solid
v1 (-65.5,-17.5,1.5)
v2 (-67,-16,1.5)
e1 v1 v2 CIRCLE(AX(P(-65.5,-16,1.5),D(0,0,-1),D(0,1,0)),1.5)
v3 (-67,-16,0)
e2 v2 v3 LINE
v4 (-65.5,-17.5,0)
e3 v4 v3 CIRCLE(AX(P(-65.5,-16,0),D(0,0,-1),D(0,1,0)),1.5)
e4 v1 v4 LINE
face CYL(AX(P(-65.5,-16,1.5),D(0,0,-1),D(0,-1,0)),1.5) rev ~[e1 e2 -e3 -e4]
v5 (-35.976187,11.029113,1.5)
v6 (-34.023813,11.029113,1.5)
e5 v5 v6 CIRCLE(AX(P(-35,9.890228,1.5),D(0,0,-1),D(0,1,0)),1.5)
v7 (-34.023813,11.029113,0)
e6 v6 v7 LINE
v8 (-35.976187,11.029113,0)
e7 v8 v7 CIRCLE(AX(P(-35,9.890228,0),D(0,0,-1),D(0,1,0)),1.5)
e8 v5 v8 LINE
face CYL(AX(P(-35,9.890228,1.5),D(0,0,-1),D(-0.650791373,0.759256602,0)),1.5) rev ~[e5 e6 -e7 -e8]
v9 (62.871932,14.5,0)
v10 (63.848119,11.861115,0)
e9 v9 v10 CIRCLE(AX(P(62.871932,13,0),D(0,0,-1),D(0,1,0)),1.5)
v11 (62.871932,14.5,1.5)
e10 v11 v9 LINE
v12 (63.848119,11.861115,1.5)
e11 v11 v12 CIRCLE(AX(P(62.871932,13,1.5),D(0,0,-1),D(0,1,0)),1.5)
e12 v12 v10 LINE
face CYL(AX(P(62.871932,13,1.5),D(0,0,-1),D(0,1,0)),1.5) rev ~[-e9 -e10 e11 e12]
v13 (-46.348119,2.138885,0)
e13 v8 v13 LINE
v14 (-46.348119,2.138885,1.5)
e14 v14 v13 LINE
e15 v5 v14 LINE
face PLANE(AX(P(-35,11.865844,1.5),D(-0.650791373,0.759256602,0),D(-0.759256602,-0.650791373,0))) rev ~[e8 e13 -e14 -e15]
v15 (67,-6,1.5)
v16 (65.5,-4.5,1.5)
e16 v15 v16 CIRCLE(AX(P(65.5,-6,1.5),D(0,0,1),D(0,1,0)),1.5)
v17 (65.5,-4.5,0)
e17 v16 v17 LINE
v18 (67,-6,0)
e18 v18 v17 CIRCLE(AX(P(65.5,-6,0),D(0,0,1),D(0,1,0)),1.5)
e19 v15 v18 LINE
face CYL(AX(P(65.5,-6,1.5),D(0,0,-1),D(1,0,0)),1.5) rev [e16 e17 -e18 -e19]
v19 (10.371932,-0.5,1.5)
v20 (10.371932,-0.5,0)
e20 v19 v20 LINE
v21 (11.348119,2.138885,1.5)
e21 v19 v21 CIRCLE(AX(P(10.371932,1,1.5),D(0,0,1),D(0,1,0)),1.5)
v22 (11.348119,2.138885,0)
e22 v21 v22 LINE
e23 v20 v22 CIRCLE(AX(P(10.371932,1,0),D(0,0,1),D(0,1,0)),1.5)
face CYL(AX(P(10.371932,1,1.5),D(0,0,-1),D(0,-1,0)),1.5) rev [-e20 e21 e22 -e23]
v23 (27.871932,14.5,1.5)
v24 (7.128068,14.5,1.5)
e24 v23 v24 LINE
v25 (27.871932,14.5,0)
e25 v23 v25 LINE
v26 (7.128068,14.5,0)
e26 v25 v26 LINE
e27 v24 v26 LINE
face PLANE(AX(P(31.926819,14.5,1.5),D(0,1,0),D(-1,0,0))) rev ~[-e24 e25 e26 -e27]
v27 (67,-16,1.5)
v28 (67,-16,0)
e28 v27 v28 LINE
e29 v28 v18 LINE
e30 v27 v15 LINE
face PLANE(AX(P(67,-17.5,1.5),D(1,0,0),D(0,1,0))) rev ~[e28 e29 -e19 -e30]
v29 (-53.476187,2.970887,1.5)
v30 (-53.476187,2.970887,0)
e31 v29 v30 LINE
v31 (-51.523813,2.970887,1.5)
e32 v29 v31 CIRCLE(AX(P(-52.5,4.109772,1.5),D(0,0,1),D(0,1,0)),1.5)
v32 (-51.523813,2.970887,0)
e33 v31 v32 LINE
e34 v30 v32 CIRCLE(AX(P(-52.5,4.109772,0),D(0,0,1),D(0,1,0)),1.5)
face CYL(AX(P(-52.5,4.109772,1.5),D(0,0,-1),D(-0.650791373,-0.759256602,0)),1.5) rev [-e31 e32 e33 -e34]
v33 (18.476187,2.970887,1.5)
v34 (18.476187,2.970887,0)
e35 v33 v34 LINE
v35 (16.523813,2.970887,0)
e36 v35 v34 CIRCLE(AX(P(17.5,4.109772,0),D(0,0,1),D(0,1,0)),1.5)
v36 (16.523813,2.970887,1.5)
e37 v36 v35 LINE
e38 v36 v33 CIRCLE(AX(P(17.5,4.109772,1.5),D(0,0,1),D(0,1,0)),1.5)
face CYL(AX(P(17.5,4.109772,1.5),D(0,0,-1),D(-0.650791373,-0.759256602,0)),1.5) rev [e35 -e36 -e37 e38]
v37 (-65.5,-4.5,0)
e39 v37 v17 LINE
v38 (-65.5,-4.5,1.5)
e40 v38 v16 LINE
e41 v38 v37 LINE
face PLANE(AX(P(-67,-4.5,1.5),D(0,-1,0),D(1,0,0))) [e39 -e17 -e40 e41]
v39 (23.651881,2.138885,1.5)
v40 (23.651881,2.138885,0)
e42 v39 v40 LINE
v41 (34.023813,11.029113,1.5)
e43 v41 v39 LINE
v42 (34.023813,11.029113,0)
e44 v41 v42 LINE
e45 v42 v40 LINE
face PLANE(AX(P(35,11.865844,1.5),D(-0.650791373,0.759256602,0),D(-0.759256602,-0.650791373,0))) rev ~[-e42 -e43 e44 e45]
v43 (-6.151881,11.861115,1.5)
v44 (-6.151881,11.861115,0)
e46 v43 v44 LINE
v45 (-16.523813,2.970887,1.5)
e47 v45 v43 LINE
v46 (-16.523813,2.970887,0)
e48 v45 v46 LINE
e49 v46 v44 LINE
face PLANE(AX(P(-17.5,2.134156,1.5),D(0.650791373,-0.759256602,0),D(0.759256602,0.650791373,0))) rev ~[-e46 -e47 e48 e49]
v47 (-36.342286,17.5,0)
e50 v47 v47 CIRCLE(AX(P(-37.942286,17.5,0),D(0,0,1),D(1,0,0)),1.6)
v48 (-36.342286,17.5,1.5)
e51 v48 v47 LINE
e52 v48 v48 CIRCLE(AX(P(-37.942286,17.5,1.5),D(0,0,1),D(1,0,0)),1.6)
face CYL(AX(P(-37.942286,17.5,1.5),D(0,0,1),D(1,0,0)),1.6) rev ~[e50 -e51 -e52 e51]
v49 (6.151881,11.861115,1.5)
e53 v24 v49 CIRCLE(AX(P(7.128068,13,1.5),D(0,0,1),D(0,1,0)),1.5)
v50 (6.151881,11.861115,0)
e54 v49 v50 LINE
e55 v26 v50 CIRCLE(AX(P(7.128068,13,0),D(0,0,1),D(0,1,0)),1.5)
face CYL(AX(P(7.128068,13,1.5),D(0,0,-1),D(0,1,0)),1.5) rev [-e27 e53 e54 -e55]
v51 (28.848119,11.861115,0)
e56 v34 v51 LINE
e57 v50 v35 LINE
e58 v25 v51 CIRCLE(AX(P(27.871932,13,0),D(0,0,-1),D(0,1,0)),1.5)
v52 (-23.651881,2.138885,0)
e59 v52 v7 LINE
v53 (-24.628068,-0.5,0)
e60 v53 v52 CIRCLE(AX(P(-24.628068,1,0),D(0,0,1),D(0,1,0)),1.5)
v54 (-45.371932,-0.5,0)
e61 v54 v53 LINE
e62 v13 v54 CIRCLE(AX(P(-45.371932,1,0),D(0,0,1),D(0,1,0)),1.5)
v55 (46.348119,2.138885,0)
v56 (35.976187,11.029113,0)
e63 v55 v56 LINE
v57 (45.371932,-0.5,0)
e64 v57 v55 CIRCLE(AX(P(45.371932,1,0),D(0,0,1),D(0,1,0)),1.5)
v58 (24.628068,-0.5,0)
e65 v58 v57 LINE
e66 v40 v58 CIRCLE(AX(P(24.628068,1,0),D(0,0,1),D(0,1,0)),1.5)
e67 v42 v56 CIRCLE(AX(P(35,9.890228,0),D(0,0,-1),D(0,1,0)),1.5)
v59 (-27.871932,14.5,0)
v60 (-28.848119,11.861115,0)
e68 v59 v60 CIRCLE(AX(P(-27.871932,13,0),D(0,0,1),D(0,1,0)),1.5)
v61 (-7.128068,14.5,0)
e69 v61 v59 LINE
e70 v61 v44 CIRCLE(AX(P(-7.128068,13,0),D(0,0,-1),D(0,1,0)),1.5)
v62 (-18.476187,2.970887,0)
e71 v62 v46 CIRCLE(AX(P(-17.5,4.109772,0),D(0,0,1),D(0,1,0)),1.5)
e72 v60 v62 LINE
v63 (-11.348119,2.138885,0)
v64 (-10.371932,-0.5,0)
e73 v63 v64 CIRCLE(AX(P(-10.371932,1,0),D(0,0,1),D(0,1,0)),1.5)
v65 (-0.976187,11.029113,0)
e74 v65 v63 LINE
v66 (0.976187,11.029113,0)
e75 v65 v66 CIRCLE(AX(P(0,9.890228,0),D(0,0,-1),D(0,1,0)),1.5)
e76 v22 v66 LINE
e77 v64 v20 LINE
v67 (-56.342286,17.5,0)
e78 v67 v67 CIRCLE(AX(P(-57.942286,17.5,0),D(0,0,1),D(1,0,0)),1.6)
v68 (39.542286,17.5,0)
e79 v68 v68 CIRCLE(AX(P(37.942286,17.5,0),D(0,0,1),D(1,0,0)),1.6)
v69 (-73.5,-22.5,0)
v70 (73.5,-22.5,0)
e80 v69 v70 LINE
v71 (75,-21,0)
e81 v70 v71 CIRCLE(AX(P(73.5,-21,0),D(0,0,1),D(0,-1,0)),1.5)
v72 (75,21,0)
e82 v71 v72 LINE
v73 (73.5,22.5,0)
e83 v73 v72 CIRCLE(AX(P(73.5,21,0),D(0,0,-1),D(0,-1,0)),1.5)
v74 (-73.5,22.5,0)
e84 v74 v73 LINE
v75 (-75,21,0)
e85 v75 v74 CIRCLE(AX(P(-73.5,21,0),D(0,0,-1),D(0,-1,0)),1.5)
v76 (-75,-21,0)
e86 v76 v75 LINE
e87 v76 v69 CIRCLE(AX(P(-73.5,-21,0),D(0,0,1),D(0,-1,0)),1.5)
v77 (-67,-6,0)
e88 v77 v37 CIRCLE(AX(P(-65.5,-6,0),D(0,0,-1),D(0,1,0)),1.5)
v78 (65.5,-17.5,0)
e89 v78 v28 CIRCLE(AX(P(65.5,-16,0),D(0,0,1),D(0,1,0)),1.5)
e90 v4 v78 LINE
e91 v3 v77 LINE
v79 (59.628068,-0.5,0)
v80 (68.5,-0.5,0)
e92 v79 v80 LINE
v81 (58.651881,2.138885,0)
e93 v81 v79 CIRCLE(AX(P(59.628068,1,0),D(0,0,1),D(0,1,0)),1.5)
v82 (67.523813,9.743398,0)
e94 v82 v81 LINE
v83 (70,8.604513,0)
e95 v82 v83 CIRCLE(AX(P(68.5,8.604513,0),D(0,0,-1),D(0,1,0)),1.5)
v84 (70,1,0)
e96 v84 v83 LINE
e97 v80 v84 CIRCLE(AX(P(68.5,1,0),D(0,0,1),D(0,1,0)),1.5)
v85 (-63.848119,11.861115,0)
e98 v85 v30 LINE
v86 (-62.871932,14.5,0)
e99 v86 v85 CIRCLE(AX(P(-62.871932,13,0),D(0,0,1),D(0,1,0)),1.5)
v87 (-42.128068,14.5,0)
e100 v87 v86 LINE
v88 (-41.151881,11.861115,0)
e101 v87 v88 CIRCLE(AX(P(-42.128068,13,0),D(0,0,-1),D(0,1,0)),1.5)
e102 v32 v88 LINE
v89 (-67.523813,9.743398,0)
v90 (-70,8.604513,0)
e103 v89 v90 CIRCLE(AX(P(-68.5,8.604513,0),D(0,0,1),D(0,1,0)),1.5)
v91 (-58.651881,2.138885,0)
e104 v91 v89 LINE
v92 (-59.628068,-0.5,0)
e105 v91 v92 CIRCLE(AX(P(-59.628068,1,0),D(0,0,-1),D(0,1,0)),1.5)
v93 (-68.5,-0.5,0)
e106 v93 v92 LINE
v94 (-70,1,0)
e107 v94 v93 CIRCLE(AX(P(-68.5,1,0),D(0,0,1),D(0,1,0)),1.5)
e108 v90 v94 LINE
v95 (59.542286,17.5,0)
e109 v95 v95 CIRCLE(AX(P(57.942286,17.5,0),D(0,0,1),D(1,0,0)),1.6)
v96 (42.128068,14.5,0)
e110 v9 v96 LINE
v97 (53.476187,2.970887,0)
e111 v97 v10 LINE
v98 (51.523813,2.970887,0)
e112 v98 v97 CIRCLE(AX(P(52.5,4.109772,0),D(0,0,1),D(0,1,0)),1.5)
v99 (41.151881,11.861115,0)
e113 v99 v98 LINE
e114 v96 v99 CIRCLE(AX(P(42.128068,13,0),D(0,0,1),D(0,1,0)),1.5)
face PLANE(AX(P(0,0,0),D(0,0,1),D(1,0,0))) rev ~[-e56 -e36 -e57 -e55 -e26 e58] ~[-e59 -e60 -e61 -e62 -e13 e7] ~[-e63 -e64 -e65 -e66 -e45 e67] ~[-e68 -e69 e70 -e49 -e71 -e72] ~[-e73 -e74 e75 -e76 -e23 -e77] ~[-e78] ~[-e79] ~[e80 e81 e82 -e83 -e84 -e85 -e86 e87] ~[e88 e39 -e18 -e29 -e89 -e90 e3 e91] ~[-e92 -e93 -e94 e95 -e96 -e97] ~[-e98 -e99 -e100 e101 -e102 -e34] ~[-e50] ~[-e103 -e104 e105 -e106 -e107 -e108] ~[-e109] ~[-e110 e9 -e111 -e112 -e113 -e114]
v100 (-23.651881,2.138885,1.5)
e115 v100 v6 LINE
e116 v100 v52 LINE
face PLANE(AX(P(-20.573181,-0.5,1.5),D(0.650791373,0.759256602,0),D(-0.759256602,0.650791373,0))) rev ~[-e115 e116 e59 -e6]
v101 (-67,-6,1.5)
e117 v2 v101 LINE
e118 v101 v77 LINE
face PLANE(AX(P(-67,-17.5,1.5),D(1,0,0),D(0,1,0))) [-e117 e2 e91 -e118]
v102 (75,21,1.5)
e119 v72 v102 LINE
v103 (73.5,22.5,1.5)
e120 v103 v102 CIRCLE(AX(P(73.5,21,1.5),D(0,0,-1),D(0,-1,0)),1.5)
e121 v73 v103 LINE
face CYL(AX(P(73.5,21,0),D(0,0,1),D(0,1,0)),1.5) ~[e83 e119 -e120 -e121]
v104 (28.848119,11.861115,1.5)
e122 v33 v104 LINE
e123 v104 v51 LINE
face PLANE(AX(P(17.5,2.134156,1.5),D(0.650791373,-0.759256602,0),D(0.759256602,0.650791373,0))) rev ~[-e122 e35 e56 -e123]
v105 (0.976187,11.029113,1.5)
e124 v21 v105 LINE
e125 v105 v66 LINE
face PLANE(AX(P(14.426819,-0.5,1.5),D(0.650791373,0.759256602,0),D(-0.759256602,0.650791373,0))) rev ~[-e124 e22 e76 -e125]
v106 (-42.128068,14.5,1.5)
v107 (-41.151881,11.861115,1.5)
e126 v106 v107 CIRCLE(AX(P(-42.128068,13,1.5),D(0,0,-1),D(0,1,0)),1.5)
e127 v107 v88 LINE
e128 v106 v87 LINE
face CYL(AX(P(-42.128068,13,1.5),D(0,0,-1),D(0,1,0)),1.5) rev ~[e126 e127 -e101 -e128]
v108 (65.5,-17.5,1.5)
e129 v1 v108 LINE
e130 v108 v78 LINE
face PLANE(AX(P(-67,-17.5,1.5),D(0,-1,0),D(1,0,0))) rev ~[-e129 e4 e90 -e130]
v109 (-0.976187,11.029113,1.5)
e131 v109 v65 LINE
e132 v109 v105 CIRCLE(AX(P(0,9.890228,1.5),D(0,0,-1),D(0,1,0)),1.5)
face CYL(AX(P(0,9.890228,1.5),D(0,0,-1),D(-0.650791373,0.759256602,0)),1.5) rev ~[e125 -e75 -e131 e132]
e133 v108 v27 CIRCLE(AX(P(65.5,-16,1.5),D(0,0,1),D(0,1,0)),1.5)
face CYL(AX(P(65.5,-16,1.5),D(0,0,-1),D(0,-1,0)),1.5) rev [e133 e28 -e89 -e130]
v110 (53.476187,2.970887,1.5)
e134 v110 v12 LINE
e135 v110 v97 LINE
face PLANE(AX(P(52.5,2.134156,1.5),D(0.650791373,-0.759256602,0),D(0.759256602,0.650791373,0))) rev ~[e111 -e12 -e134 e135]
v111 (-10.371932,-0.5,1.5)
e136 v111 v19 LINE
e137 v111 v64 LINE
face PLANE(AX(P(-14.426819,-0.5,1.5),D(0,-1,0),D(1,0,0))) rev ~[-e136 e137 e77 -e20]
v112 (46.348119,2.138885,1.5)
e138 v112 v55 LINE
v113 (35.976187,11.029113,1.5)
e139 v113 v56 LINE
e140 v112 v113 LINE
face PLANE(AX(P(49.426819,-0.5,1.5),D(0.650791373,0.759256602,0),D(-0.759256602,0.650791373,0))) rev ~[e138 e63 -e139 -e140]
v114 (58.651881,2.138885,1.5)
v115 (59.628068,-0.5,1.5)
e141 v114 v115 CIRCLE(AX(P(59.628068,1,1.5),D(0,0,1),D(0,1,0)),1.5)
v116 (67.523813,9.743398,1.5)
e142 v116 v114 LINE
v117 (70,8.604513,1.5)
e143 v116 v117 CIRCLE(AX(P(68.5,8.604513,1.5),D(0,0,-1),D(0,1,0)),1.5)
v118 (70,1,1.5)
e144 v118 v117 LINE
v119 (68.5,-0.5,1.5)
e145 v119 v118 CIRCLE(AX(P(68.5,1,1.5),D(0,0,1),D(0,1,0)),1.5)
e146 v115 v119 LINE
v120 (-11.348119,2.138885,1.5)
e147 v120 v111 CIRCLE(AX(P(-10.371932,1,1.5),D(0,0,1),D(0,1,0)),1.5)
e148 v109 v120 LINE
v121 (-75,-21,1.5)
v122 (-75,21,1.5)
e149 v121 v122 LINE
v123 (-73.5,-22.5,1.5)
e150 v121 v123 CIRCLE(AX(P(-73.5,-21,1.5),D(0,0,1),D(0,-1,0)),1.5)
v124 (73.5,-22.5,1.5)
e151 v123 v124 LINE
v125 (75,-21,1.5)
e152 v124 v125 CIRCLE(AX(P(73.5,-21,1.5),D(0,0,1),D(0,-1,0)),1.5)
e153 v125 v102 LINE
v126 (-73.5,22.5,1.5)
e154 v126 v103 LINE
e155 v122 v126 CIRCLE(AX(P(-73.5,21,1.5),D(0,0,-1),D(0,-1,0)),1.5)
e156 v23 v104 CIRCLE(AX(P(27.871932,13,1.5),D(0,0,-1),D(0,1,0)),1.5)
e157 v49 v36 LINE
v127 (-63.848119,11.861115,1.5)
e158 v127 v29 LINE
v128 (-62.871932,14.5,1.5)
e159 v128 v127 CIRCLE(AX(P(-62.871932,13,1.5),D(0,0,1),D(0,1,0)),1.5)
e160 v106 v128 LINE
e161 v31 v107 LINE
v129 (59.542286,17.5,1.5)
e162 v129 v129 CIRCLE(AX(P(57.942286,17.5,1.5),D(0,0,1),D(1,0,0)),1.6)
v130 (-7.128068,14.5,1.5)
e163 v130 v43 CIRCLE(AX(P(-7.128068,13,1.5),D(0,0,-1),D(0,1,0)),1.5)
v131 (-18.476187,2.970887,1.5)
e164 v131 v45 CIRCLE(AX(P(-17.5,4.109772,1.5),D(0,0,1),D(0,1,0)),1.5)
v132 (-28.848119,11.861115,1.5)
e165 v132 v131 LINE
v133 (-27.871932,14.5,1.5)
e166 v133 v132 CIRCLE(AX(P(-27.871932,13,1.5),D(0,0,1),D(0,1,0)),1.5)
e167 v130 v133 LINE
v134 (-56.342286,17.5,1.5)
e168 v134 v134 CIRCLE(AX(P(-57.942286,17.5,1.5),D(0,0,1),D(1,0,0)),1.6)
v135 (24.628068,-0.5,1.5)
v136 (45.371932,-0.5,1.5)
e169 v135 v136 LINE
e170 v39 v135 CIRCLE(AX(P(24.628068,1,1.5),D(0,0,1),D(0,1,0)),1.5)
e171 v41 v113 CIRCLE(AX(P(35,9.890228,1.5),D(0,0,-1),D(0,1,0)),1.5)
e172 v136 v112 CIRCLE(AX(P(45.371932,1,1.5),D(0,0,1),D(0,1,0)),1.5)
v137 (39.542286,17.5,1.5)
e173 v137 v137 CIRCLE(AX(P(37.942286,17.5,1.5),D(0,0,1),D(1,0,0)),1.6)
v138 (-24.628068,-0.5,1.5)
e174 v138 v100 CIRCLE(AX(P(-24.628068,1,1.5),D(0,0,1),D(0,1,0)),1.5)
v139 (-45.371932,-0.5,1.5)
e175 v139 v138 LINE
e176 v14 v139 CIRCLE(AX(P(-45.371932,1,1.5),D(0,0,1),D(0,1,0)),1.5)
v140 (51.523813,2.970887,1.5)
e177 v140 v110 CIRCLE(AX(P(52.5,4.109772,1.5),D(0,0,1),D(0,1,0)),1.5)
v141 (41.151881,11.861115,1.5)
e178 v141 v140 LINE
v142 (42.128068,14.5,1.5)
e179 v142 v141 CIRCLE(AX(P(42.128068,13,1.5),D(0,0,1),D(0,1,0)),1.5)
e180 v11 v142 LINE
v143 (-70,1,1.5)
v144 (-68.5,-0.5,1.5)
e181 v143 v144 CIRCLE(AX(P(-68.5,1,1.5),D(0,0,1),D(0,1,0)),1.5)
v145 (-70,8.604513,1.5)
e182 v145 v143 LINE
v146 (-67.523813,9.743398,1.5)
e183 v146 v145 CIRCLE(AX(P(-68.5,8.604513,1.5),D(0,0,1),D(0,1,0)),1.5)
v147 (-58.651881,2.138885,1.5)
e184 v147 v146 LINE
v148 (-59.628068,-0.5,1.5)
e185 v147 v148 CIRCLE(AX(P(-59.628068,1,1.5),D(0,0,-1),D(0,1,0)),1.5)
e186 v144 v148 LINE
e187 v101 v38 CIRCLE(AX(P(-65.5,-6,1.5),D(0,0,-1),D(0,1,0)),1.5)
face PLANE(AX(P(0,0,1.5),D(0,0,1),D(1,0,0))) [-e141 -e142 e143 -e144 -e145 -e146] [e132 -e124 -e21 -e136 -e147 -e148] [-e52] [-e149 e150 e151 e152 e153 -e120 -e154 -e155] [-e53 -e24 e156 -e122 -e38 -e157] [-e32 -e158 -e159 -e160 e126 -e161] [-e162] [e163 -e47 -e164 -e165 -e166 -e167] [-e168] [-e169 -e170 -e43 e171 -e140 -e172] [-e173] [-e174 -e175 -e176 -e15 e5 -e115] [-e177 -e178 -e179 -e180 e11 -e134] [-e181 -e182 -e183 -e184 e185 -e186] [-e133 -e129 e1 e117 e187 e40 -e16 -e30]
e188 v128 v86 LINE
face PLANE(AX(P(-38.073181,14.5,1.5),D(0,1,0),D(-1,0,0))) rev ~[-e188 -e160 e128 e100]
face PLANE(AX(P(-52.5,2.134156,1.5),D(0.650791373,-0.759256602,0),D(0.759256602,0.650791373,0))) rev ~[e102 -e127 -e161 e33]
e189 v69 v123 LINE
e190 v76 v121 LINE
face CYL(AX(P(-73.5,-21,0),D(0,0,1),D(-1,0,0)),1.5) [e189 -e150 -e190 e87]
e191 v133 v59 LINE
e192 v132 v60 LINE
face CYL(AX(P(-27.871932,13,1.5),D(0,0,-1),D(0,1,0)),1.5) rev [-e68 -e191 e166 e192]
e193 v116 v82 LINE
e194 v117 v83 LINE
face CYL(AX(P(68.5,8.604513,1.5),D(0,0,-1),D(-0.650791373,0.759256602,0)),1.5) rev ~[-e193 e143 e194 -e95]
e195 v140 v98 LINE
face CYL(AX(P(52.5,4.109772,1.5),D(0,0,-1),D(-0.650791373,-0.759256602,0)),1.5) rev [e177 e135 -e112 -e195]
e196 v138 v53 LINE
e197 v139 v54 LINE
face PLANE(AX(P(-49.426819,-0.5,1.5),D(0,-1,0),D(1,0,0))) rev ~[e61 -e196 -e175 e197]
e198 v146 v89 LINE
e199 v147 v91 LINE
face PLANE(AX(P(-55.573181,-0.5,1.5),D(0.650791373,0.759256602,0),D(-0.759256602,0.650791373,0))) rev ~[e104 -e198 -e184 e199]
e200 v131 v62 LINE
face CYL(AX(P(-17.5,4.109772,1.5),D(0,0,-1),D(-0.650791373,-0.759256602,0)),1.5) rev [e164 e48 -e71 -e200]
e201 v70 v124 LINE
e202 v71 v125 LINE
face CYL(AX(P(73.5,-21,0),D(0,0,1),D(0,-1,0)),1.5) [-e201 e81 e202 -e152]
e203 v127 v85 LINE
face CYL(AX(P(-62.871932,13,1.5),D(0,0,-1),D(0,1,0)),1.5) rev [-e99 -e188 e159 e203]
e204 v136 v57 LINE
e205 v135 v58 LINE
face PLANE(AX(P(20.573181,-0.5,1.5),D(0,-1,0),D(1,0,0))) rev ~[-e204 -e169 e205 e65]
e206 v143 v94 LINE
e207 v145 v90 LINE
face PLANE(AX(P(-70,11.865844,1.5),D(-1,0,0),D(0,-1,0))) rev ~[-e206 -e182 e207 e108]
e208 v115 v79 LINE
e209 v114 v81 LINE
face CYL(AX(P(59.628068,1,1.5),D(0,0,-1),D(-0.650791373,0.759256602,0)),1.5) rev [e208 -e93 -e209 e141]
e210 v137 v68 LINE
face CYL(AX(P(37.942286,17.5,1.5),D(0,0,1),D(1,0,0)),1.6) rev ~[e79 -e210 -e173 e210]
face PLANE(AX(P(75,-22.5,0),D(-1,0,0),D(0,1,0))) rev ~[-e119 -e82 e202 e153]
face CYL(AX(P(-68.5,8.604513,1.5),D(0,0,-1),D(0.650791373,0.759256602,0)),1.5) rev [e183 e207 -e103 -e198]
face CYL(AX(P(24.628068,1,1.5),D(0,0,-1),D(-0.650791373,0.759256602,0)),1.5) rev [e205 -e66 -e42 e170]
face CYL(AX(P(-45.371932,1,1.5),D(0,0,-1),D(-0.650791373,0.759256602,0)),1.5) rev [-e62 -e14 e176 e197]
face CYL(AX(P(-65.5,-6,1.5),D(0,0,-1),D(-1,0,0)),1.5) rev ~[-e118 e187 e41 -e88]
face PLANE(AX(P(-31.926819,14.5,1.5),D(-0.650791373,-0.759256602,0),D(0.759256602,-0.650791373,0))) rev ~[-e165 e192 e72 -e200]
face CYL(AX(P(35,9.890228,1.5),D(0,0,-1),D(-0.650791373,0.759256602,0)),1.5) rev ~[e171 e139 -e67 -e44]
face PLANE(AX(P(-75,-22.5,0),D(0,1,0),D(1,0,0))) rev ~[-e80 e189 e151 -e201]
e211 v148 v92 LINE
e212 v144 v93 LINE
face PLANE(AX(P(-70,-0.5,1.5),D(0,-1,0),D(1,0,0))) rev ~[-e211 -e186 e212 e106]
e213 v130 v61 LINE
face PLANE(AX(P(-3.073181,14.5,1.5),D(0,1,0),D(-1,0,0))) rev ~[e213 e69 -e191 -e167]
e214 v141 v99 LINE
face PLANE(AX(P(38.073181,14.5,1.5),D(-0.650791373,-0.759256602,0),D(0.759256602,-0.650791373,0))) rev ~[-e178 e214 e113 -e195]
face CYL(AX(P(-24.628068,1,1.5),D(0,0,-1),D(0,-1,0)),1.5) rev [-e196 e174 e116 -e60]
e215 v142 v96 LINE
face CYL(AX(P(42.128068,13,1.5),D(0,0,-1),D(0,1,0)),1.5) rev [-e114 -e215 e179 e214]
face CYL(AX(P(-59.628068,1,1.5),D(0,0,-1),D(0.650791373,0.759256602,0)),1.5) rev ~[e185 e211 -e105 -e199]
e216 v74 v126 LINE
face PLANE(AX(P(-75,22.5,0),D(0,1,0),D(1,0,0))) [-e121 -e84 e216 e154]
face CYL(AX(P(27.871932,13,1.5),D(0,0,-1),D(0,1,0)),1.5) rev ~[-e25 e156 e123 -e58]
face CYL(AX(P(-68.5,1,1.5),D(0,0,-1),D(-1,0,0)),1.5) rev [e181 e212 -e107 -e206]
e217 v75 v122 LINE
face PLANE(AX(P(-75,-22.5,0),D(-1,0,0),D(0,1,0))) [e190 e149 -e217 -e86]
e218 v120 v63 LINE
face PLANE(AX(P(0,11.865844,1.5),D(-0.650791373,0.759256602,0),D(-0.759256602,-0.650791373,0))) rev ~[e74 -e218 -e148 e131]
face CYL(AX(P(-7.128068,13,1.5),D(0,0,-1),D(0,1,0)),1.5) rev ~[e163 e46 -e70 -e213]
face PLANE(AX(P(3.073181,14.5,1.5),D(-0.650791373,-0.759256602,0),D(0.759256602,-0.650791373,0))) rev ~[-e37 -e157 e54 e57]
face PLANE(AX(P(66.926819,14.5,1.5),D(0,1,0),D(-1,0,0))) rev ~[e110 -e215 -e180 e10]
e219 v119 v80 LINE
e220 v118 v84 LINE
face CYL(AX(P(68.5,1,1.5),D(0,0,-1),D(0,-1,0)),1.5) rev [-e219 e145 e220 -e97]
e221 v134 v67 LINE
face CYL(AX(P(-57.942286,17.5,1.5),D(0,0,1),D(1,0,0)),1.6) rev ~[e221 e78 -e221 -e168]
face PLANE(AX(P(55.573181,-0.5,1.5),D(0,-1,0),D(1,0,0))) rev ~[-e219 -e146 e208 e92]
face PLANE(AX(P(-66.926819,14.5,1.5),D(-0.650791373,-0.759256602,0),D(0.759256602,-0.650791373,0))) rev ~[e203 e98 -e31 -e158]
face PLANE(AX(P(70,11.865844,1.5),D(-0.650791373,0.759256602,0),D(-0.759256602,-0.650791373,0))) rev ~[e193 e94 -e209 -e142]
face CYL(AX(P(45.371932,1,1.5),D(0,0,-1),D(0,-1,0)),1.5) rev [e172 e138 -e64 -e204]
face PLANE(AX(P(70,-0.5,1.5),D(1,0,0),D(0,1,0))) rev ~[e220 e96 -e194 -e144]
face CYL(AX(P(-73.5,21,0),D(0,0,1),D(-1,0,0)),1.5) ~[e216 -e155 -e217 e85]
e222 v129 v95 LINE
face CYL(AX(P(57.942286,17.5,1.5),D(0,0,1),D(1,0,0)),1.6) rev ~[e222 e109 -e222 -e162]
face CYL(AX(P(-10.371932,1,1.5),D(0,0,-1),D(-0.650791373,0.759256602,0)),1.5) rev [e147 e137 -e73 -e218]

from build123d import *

# Parameters (mm, degrees)
SKETCH_1_W          = 150
SKETCH_1_H          = 45
EXTRUDE_1_DEPTH     = 1.5
SKETCH_2_R          = 1.6
SKETCH_2_W          = 134
SKETCH_2_H          = 13
CUT_EXTRUDE_1_DEPTH = 79.316664893
CUT_EXTRUDE_2_DEPTH = 79.316664893
FILLET_1_R          = 1.5


with BuildPart() as part:
    # 草图1 → 凸台-拉伸1 (new body)
    with BuildSketch(Plane.XY):
        Rectangle(SKETCH_1_W, SKETCH_1_H)
    extrude(amount=EXTRUDE_1_DEPTH)

    # 草图2 → 切除-拉伸1 (cut, through all)
    with BuildSketch(Plane.XY.offset(1.5)):
        with Locations((37.942286341, 17.5)):
            Circle(SKETCH_2_R)
        with Locations((57.942286341, 17.5)):
            Circle(SKETCH_2_R)
        with Locations((-37.942286341, 17.5)):
            Circle(SKETCH_2_R)
        with Locations((-57.942286341, 17.5)):
            Circle(SKETCH_2_R)
        with Locations((0, -11)):
            Rectangle(SKETCH_2_W, SKETCH_2_H)
    extrude(amount=-CUT_EXTRUDE_1_DEPTH, mode=Mode.SUBTRACT)

    # 草图3 → 切除-拉伸2 (cut, through all)
    with BuildSketch(Plane.XY.offset(1.5)):
        Polygon((-55.573181486, -0.5), (-70, 11.865844441), (-70, -0.5), align=None)
        Polygon((-38.073181486, 14.5), (-66.926818514, 14.5), (-52.5, 2.134155559), align=None)
        Polygon((-35, 11.865844441), (-49.426818514, -0.5), (-20.573181486, -0.5), align=None)
        Polygon((-3.073181486, 14.5), (-31.926818514, 14.5), (-17.5, 2.134155559), align=None)
        Polygon((0, 11.865844441), (-14.426818514, -0.5), (14.426818514, -0.5), align=None)
        Polygon((31.926818514, 14.5), (3.073181486, 14.5), (17.5, 2.134155559), align=None)
        Polygon((35, 11.865844441), (20.573181486, -0.5), (49.426818514, -0.5), align=None)
        Polygon((66.926818514, 14.5), (38.073181486, 14.5), (52.5, 2.134155559), align=None)
        Polygon((70, 11.865844441), (55.573181486, -0.5), (70, -0.5), align=None)
    extrude(amount=-CUT_EXTRUDE_2_DEPTH, mode=Mode.SUBTRACT)

    # 圆角1
    fillet_1_edges = [part.edges().sort_by_distance(p)[0] for p in [
        (17.5, 2.134155559, 0.75),
        (3.073181486, 14.5, 0.75),
        (31.926818514, 14.5, 0.75),
        (35, 11.865844441, 0.75),
        (49.426818514, -0.5, 0.75),
        (20.573181486, -0.5, 0.75),
        (-70, 11.865844441, 0.75),
        (-55.573181486, -0.5, 0.75),
        (-70, -0.5, 0.75),
        (67, -4.5, 0.75),
        (67, -17.5, 0.75),
        (-67, -17.5, 0.75),
        (-67, -4.5, 0.75),
        (-17.5, 2.134155559, 0.75),
        (-31.926818514, 14.5, 0.75),
        (-3.073181486, 14.5, 0.75),
        (75, -22.5, 0.75),
        (-75, -22.5, 0.75),
        (0, 11.865844441, 0.75),
        (14.426818514, -0.5, 0.75),
        (-75, 22.5, 0.75),
        (-14.426818514, -0.5, 0.75),
        (75, 22.5, 0.75),
        (-52.5, 2.134155559, 0.75),
        (-66.926818514, 14.5, 0.75),
        (-38.073181486, 14.5, 0.75),
        (-35, 11.865844441, 0.75),
        (-20.573181486, -0.5, 0.75),
        (-49.426818514, -0.5, 0.75),
        (52.5, 2.134155559, 0.75),
        (38.073181486, 14.5, 0.75),
        (66.926818514, 14.5, 0.75),
        (55.573181486, -0.5, 0.75),
        (70, 11.865844441, 0.75),
        (70, -0.5, 0.75),
    ]]
    fillet(fillet_1_edges, radius=FILLET_1_R)


solid = part.part
